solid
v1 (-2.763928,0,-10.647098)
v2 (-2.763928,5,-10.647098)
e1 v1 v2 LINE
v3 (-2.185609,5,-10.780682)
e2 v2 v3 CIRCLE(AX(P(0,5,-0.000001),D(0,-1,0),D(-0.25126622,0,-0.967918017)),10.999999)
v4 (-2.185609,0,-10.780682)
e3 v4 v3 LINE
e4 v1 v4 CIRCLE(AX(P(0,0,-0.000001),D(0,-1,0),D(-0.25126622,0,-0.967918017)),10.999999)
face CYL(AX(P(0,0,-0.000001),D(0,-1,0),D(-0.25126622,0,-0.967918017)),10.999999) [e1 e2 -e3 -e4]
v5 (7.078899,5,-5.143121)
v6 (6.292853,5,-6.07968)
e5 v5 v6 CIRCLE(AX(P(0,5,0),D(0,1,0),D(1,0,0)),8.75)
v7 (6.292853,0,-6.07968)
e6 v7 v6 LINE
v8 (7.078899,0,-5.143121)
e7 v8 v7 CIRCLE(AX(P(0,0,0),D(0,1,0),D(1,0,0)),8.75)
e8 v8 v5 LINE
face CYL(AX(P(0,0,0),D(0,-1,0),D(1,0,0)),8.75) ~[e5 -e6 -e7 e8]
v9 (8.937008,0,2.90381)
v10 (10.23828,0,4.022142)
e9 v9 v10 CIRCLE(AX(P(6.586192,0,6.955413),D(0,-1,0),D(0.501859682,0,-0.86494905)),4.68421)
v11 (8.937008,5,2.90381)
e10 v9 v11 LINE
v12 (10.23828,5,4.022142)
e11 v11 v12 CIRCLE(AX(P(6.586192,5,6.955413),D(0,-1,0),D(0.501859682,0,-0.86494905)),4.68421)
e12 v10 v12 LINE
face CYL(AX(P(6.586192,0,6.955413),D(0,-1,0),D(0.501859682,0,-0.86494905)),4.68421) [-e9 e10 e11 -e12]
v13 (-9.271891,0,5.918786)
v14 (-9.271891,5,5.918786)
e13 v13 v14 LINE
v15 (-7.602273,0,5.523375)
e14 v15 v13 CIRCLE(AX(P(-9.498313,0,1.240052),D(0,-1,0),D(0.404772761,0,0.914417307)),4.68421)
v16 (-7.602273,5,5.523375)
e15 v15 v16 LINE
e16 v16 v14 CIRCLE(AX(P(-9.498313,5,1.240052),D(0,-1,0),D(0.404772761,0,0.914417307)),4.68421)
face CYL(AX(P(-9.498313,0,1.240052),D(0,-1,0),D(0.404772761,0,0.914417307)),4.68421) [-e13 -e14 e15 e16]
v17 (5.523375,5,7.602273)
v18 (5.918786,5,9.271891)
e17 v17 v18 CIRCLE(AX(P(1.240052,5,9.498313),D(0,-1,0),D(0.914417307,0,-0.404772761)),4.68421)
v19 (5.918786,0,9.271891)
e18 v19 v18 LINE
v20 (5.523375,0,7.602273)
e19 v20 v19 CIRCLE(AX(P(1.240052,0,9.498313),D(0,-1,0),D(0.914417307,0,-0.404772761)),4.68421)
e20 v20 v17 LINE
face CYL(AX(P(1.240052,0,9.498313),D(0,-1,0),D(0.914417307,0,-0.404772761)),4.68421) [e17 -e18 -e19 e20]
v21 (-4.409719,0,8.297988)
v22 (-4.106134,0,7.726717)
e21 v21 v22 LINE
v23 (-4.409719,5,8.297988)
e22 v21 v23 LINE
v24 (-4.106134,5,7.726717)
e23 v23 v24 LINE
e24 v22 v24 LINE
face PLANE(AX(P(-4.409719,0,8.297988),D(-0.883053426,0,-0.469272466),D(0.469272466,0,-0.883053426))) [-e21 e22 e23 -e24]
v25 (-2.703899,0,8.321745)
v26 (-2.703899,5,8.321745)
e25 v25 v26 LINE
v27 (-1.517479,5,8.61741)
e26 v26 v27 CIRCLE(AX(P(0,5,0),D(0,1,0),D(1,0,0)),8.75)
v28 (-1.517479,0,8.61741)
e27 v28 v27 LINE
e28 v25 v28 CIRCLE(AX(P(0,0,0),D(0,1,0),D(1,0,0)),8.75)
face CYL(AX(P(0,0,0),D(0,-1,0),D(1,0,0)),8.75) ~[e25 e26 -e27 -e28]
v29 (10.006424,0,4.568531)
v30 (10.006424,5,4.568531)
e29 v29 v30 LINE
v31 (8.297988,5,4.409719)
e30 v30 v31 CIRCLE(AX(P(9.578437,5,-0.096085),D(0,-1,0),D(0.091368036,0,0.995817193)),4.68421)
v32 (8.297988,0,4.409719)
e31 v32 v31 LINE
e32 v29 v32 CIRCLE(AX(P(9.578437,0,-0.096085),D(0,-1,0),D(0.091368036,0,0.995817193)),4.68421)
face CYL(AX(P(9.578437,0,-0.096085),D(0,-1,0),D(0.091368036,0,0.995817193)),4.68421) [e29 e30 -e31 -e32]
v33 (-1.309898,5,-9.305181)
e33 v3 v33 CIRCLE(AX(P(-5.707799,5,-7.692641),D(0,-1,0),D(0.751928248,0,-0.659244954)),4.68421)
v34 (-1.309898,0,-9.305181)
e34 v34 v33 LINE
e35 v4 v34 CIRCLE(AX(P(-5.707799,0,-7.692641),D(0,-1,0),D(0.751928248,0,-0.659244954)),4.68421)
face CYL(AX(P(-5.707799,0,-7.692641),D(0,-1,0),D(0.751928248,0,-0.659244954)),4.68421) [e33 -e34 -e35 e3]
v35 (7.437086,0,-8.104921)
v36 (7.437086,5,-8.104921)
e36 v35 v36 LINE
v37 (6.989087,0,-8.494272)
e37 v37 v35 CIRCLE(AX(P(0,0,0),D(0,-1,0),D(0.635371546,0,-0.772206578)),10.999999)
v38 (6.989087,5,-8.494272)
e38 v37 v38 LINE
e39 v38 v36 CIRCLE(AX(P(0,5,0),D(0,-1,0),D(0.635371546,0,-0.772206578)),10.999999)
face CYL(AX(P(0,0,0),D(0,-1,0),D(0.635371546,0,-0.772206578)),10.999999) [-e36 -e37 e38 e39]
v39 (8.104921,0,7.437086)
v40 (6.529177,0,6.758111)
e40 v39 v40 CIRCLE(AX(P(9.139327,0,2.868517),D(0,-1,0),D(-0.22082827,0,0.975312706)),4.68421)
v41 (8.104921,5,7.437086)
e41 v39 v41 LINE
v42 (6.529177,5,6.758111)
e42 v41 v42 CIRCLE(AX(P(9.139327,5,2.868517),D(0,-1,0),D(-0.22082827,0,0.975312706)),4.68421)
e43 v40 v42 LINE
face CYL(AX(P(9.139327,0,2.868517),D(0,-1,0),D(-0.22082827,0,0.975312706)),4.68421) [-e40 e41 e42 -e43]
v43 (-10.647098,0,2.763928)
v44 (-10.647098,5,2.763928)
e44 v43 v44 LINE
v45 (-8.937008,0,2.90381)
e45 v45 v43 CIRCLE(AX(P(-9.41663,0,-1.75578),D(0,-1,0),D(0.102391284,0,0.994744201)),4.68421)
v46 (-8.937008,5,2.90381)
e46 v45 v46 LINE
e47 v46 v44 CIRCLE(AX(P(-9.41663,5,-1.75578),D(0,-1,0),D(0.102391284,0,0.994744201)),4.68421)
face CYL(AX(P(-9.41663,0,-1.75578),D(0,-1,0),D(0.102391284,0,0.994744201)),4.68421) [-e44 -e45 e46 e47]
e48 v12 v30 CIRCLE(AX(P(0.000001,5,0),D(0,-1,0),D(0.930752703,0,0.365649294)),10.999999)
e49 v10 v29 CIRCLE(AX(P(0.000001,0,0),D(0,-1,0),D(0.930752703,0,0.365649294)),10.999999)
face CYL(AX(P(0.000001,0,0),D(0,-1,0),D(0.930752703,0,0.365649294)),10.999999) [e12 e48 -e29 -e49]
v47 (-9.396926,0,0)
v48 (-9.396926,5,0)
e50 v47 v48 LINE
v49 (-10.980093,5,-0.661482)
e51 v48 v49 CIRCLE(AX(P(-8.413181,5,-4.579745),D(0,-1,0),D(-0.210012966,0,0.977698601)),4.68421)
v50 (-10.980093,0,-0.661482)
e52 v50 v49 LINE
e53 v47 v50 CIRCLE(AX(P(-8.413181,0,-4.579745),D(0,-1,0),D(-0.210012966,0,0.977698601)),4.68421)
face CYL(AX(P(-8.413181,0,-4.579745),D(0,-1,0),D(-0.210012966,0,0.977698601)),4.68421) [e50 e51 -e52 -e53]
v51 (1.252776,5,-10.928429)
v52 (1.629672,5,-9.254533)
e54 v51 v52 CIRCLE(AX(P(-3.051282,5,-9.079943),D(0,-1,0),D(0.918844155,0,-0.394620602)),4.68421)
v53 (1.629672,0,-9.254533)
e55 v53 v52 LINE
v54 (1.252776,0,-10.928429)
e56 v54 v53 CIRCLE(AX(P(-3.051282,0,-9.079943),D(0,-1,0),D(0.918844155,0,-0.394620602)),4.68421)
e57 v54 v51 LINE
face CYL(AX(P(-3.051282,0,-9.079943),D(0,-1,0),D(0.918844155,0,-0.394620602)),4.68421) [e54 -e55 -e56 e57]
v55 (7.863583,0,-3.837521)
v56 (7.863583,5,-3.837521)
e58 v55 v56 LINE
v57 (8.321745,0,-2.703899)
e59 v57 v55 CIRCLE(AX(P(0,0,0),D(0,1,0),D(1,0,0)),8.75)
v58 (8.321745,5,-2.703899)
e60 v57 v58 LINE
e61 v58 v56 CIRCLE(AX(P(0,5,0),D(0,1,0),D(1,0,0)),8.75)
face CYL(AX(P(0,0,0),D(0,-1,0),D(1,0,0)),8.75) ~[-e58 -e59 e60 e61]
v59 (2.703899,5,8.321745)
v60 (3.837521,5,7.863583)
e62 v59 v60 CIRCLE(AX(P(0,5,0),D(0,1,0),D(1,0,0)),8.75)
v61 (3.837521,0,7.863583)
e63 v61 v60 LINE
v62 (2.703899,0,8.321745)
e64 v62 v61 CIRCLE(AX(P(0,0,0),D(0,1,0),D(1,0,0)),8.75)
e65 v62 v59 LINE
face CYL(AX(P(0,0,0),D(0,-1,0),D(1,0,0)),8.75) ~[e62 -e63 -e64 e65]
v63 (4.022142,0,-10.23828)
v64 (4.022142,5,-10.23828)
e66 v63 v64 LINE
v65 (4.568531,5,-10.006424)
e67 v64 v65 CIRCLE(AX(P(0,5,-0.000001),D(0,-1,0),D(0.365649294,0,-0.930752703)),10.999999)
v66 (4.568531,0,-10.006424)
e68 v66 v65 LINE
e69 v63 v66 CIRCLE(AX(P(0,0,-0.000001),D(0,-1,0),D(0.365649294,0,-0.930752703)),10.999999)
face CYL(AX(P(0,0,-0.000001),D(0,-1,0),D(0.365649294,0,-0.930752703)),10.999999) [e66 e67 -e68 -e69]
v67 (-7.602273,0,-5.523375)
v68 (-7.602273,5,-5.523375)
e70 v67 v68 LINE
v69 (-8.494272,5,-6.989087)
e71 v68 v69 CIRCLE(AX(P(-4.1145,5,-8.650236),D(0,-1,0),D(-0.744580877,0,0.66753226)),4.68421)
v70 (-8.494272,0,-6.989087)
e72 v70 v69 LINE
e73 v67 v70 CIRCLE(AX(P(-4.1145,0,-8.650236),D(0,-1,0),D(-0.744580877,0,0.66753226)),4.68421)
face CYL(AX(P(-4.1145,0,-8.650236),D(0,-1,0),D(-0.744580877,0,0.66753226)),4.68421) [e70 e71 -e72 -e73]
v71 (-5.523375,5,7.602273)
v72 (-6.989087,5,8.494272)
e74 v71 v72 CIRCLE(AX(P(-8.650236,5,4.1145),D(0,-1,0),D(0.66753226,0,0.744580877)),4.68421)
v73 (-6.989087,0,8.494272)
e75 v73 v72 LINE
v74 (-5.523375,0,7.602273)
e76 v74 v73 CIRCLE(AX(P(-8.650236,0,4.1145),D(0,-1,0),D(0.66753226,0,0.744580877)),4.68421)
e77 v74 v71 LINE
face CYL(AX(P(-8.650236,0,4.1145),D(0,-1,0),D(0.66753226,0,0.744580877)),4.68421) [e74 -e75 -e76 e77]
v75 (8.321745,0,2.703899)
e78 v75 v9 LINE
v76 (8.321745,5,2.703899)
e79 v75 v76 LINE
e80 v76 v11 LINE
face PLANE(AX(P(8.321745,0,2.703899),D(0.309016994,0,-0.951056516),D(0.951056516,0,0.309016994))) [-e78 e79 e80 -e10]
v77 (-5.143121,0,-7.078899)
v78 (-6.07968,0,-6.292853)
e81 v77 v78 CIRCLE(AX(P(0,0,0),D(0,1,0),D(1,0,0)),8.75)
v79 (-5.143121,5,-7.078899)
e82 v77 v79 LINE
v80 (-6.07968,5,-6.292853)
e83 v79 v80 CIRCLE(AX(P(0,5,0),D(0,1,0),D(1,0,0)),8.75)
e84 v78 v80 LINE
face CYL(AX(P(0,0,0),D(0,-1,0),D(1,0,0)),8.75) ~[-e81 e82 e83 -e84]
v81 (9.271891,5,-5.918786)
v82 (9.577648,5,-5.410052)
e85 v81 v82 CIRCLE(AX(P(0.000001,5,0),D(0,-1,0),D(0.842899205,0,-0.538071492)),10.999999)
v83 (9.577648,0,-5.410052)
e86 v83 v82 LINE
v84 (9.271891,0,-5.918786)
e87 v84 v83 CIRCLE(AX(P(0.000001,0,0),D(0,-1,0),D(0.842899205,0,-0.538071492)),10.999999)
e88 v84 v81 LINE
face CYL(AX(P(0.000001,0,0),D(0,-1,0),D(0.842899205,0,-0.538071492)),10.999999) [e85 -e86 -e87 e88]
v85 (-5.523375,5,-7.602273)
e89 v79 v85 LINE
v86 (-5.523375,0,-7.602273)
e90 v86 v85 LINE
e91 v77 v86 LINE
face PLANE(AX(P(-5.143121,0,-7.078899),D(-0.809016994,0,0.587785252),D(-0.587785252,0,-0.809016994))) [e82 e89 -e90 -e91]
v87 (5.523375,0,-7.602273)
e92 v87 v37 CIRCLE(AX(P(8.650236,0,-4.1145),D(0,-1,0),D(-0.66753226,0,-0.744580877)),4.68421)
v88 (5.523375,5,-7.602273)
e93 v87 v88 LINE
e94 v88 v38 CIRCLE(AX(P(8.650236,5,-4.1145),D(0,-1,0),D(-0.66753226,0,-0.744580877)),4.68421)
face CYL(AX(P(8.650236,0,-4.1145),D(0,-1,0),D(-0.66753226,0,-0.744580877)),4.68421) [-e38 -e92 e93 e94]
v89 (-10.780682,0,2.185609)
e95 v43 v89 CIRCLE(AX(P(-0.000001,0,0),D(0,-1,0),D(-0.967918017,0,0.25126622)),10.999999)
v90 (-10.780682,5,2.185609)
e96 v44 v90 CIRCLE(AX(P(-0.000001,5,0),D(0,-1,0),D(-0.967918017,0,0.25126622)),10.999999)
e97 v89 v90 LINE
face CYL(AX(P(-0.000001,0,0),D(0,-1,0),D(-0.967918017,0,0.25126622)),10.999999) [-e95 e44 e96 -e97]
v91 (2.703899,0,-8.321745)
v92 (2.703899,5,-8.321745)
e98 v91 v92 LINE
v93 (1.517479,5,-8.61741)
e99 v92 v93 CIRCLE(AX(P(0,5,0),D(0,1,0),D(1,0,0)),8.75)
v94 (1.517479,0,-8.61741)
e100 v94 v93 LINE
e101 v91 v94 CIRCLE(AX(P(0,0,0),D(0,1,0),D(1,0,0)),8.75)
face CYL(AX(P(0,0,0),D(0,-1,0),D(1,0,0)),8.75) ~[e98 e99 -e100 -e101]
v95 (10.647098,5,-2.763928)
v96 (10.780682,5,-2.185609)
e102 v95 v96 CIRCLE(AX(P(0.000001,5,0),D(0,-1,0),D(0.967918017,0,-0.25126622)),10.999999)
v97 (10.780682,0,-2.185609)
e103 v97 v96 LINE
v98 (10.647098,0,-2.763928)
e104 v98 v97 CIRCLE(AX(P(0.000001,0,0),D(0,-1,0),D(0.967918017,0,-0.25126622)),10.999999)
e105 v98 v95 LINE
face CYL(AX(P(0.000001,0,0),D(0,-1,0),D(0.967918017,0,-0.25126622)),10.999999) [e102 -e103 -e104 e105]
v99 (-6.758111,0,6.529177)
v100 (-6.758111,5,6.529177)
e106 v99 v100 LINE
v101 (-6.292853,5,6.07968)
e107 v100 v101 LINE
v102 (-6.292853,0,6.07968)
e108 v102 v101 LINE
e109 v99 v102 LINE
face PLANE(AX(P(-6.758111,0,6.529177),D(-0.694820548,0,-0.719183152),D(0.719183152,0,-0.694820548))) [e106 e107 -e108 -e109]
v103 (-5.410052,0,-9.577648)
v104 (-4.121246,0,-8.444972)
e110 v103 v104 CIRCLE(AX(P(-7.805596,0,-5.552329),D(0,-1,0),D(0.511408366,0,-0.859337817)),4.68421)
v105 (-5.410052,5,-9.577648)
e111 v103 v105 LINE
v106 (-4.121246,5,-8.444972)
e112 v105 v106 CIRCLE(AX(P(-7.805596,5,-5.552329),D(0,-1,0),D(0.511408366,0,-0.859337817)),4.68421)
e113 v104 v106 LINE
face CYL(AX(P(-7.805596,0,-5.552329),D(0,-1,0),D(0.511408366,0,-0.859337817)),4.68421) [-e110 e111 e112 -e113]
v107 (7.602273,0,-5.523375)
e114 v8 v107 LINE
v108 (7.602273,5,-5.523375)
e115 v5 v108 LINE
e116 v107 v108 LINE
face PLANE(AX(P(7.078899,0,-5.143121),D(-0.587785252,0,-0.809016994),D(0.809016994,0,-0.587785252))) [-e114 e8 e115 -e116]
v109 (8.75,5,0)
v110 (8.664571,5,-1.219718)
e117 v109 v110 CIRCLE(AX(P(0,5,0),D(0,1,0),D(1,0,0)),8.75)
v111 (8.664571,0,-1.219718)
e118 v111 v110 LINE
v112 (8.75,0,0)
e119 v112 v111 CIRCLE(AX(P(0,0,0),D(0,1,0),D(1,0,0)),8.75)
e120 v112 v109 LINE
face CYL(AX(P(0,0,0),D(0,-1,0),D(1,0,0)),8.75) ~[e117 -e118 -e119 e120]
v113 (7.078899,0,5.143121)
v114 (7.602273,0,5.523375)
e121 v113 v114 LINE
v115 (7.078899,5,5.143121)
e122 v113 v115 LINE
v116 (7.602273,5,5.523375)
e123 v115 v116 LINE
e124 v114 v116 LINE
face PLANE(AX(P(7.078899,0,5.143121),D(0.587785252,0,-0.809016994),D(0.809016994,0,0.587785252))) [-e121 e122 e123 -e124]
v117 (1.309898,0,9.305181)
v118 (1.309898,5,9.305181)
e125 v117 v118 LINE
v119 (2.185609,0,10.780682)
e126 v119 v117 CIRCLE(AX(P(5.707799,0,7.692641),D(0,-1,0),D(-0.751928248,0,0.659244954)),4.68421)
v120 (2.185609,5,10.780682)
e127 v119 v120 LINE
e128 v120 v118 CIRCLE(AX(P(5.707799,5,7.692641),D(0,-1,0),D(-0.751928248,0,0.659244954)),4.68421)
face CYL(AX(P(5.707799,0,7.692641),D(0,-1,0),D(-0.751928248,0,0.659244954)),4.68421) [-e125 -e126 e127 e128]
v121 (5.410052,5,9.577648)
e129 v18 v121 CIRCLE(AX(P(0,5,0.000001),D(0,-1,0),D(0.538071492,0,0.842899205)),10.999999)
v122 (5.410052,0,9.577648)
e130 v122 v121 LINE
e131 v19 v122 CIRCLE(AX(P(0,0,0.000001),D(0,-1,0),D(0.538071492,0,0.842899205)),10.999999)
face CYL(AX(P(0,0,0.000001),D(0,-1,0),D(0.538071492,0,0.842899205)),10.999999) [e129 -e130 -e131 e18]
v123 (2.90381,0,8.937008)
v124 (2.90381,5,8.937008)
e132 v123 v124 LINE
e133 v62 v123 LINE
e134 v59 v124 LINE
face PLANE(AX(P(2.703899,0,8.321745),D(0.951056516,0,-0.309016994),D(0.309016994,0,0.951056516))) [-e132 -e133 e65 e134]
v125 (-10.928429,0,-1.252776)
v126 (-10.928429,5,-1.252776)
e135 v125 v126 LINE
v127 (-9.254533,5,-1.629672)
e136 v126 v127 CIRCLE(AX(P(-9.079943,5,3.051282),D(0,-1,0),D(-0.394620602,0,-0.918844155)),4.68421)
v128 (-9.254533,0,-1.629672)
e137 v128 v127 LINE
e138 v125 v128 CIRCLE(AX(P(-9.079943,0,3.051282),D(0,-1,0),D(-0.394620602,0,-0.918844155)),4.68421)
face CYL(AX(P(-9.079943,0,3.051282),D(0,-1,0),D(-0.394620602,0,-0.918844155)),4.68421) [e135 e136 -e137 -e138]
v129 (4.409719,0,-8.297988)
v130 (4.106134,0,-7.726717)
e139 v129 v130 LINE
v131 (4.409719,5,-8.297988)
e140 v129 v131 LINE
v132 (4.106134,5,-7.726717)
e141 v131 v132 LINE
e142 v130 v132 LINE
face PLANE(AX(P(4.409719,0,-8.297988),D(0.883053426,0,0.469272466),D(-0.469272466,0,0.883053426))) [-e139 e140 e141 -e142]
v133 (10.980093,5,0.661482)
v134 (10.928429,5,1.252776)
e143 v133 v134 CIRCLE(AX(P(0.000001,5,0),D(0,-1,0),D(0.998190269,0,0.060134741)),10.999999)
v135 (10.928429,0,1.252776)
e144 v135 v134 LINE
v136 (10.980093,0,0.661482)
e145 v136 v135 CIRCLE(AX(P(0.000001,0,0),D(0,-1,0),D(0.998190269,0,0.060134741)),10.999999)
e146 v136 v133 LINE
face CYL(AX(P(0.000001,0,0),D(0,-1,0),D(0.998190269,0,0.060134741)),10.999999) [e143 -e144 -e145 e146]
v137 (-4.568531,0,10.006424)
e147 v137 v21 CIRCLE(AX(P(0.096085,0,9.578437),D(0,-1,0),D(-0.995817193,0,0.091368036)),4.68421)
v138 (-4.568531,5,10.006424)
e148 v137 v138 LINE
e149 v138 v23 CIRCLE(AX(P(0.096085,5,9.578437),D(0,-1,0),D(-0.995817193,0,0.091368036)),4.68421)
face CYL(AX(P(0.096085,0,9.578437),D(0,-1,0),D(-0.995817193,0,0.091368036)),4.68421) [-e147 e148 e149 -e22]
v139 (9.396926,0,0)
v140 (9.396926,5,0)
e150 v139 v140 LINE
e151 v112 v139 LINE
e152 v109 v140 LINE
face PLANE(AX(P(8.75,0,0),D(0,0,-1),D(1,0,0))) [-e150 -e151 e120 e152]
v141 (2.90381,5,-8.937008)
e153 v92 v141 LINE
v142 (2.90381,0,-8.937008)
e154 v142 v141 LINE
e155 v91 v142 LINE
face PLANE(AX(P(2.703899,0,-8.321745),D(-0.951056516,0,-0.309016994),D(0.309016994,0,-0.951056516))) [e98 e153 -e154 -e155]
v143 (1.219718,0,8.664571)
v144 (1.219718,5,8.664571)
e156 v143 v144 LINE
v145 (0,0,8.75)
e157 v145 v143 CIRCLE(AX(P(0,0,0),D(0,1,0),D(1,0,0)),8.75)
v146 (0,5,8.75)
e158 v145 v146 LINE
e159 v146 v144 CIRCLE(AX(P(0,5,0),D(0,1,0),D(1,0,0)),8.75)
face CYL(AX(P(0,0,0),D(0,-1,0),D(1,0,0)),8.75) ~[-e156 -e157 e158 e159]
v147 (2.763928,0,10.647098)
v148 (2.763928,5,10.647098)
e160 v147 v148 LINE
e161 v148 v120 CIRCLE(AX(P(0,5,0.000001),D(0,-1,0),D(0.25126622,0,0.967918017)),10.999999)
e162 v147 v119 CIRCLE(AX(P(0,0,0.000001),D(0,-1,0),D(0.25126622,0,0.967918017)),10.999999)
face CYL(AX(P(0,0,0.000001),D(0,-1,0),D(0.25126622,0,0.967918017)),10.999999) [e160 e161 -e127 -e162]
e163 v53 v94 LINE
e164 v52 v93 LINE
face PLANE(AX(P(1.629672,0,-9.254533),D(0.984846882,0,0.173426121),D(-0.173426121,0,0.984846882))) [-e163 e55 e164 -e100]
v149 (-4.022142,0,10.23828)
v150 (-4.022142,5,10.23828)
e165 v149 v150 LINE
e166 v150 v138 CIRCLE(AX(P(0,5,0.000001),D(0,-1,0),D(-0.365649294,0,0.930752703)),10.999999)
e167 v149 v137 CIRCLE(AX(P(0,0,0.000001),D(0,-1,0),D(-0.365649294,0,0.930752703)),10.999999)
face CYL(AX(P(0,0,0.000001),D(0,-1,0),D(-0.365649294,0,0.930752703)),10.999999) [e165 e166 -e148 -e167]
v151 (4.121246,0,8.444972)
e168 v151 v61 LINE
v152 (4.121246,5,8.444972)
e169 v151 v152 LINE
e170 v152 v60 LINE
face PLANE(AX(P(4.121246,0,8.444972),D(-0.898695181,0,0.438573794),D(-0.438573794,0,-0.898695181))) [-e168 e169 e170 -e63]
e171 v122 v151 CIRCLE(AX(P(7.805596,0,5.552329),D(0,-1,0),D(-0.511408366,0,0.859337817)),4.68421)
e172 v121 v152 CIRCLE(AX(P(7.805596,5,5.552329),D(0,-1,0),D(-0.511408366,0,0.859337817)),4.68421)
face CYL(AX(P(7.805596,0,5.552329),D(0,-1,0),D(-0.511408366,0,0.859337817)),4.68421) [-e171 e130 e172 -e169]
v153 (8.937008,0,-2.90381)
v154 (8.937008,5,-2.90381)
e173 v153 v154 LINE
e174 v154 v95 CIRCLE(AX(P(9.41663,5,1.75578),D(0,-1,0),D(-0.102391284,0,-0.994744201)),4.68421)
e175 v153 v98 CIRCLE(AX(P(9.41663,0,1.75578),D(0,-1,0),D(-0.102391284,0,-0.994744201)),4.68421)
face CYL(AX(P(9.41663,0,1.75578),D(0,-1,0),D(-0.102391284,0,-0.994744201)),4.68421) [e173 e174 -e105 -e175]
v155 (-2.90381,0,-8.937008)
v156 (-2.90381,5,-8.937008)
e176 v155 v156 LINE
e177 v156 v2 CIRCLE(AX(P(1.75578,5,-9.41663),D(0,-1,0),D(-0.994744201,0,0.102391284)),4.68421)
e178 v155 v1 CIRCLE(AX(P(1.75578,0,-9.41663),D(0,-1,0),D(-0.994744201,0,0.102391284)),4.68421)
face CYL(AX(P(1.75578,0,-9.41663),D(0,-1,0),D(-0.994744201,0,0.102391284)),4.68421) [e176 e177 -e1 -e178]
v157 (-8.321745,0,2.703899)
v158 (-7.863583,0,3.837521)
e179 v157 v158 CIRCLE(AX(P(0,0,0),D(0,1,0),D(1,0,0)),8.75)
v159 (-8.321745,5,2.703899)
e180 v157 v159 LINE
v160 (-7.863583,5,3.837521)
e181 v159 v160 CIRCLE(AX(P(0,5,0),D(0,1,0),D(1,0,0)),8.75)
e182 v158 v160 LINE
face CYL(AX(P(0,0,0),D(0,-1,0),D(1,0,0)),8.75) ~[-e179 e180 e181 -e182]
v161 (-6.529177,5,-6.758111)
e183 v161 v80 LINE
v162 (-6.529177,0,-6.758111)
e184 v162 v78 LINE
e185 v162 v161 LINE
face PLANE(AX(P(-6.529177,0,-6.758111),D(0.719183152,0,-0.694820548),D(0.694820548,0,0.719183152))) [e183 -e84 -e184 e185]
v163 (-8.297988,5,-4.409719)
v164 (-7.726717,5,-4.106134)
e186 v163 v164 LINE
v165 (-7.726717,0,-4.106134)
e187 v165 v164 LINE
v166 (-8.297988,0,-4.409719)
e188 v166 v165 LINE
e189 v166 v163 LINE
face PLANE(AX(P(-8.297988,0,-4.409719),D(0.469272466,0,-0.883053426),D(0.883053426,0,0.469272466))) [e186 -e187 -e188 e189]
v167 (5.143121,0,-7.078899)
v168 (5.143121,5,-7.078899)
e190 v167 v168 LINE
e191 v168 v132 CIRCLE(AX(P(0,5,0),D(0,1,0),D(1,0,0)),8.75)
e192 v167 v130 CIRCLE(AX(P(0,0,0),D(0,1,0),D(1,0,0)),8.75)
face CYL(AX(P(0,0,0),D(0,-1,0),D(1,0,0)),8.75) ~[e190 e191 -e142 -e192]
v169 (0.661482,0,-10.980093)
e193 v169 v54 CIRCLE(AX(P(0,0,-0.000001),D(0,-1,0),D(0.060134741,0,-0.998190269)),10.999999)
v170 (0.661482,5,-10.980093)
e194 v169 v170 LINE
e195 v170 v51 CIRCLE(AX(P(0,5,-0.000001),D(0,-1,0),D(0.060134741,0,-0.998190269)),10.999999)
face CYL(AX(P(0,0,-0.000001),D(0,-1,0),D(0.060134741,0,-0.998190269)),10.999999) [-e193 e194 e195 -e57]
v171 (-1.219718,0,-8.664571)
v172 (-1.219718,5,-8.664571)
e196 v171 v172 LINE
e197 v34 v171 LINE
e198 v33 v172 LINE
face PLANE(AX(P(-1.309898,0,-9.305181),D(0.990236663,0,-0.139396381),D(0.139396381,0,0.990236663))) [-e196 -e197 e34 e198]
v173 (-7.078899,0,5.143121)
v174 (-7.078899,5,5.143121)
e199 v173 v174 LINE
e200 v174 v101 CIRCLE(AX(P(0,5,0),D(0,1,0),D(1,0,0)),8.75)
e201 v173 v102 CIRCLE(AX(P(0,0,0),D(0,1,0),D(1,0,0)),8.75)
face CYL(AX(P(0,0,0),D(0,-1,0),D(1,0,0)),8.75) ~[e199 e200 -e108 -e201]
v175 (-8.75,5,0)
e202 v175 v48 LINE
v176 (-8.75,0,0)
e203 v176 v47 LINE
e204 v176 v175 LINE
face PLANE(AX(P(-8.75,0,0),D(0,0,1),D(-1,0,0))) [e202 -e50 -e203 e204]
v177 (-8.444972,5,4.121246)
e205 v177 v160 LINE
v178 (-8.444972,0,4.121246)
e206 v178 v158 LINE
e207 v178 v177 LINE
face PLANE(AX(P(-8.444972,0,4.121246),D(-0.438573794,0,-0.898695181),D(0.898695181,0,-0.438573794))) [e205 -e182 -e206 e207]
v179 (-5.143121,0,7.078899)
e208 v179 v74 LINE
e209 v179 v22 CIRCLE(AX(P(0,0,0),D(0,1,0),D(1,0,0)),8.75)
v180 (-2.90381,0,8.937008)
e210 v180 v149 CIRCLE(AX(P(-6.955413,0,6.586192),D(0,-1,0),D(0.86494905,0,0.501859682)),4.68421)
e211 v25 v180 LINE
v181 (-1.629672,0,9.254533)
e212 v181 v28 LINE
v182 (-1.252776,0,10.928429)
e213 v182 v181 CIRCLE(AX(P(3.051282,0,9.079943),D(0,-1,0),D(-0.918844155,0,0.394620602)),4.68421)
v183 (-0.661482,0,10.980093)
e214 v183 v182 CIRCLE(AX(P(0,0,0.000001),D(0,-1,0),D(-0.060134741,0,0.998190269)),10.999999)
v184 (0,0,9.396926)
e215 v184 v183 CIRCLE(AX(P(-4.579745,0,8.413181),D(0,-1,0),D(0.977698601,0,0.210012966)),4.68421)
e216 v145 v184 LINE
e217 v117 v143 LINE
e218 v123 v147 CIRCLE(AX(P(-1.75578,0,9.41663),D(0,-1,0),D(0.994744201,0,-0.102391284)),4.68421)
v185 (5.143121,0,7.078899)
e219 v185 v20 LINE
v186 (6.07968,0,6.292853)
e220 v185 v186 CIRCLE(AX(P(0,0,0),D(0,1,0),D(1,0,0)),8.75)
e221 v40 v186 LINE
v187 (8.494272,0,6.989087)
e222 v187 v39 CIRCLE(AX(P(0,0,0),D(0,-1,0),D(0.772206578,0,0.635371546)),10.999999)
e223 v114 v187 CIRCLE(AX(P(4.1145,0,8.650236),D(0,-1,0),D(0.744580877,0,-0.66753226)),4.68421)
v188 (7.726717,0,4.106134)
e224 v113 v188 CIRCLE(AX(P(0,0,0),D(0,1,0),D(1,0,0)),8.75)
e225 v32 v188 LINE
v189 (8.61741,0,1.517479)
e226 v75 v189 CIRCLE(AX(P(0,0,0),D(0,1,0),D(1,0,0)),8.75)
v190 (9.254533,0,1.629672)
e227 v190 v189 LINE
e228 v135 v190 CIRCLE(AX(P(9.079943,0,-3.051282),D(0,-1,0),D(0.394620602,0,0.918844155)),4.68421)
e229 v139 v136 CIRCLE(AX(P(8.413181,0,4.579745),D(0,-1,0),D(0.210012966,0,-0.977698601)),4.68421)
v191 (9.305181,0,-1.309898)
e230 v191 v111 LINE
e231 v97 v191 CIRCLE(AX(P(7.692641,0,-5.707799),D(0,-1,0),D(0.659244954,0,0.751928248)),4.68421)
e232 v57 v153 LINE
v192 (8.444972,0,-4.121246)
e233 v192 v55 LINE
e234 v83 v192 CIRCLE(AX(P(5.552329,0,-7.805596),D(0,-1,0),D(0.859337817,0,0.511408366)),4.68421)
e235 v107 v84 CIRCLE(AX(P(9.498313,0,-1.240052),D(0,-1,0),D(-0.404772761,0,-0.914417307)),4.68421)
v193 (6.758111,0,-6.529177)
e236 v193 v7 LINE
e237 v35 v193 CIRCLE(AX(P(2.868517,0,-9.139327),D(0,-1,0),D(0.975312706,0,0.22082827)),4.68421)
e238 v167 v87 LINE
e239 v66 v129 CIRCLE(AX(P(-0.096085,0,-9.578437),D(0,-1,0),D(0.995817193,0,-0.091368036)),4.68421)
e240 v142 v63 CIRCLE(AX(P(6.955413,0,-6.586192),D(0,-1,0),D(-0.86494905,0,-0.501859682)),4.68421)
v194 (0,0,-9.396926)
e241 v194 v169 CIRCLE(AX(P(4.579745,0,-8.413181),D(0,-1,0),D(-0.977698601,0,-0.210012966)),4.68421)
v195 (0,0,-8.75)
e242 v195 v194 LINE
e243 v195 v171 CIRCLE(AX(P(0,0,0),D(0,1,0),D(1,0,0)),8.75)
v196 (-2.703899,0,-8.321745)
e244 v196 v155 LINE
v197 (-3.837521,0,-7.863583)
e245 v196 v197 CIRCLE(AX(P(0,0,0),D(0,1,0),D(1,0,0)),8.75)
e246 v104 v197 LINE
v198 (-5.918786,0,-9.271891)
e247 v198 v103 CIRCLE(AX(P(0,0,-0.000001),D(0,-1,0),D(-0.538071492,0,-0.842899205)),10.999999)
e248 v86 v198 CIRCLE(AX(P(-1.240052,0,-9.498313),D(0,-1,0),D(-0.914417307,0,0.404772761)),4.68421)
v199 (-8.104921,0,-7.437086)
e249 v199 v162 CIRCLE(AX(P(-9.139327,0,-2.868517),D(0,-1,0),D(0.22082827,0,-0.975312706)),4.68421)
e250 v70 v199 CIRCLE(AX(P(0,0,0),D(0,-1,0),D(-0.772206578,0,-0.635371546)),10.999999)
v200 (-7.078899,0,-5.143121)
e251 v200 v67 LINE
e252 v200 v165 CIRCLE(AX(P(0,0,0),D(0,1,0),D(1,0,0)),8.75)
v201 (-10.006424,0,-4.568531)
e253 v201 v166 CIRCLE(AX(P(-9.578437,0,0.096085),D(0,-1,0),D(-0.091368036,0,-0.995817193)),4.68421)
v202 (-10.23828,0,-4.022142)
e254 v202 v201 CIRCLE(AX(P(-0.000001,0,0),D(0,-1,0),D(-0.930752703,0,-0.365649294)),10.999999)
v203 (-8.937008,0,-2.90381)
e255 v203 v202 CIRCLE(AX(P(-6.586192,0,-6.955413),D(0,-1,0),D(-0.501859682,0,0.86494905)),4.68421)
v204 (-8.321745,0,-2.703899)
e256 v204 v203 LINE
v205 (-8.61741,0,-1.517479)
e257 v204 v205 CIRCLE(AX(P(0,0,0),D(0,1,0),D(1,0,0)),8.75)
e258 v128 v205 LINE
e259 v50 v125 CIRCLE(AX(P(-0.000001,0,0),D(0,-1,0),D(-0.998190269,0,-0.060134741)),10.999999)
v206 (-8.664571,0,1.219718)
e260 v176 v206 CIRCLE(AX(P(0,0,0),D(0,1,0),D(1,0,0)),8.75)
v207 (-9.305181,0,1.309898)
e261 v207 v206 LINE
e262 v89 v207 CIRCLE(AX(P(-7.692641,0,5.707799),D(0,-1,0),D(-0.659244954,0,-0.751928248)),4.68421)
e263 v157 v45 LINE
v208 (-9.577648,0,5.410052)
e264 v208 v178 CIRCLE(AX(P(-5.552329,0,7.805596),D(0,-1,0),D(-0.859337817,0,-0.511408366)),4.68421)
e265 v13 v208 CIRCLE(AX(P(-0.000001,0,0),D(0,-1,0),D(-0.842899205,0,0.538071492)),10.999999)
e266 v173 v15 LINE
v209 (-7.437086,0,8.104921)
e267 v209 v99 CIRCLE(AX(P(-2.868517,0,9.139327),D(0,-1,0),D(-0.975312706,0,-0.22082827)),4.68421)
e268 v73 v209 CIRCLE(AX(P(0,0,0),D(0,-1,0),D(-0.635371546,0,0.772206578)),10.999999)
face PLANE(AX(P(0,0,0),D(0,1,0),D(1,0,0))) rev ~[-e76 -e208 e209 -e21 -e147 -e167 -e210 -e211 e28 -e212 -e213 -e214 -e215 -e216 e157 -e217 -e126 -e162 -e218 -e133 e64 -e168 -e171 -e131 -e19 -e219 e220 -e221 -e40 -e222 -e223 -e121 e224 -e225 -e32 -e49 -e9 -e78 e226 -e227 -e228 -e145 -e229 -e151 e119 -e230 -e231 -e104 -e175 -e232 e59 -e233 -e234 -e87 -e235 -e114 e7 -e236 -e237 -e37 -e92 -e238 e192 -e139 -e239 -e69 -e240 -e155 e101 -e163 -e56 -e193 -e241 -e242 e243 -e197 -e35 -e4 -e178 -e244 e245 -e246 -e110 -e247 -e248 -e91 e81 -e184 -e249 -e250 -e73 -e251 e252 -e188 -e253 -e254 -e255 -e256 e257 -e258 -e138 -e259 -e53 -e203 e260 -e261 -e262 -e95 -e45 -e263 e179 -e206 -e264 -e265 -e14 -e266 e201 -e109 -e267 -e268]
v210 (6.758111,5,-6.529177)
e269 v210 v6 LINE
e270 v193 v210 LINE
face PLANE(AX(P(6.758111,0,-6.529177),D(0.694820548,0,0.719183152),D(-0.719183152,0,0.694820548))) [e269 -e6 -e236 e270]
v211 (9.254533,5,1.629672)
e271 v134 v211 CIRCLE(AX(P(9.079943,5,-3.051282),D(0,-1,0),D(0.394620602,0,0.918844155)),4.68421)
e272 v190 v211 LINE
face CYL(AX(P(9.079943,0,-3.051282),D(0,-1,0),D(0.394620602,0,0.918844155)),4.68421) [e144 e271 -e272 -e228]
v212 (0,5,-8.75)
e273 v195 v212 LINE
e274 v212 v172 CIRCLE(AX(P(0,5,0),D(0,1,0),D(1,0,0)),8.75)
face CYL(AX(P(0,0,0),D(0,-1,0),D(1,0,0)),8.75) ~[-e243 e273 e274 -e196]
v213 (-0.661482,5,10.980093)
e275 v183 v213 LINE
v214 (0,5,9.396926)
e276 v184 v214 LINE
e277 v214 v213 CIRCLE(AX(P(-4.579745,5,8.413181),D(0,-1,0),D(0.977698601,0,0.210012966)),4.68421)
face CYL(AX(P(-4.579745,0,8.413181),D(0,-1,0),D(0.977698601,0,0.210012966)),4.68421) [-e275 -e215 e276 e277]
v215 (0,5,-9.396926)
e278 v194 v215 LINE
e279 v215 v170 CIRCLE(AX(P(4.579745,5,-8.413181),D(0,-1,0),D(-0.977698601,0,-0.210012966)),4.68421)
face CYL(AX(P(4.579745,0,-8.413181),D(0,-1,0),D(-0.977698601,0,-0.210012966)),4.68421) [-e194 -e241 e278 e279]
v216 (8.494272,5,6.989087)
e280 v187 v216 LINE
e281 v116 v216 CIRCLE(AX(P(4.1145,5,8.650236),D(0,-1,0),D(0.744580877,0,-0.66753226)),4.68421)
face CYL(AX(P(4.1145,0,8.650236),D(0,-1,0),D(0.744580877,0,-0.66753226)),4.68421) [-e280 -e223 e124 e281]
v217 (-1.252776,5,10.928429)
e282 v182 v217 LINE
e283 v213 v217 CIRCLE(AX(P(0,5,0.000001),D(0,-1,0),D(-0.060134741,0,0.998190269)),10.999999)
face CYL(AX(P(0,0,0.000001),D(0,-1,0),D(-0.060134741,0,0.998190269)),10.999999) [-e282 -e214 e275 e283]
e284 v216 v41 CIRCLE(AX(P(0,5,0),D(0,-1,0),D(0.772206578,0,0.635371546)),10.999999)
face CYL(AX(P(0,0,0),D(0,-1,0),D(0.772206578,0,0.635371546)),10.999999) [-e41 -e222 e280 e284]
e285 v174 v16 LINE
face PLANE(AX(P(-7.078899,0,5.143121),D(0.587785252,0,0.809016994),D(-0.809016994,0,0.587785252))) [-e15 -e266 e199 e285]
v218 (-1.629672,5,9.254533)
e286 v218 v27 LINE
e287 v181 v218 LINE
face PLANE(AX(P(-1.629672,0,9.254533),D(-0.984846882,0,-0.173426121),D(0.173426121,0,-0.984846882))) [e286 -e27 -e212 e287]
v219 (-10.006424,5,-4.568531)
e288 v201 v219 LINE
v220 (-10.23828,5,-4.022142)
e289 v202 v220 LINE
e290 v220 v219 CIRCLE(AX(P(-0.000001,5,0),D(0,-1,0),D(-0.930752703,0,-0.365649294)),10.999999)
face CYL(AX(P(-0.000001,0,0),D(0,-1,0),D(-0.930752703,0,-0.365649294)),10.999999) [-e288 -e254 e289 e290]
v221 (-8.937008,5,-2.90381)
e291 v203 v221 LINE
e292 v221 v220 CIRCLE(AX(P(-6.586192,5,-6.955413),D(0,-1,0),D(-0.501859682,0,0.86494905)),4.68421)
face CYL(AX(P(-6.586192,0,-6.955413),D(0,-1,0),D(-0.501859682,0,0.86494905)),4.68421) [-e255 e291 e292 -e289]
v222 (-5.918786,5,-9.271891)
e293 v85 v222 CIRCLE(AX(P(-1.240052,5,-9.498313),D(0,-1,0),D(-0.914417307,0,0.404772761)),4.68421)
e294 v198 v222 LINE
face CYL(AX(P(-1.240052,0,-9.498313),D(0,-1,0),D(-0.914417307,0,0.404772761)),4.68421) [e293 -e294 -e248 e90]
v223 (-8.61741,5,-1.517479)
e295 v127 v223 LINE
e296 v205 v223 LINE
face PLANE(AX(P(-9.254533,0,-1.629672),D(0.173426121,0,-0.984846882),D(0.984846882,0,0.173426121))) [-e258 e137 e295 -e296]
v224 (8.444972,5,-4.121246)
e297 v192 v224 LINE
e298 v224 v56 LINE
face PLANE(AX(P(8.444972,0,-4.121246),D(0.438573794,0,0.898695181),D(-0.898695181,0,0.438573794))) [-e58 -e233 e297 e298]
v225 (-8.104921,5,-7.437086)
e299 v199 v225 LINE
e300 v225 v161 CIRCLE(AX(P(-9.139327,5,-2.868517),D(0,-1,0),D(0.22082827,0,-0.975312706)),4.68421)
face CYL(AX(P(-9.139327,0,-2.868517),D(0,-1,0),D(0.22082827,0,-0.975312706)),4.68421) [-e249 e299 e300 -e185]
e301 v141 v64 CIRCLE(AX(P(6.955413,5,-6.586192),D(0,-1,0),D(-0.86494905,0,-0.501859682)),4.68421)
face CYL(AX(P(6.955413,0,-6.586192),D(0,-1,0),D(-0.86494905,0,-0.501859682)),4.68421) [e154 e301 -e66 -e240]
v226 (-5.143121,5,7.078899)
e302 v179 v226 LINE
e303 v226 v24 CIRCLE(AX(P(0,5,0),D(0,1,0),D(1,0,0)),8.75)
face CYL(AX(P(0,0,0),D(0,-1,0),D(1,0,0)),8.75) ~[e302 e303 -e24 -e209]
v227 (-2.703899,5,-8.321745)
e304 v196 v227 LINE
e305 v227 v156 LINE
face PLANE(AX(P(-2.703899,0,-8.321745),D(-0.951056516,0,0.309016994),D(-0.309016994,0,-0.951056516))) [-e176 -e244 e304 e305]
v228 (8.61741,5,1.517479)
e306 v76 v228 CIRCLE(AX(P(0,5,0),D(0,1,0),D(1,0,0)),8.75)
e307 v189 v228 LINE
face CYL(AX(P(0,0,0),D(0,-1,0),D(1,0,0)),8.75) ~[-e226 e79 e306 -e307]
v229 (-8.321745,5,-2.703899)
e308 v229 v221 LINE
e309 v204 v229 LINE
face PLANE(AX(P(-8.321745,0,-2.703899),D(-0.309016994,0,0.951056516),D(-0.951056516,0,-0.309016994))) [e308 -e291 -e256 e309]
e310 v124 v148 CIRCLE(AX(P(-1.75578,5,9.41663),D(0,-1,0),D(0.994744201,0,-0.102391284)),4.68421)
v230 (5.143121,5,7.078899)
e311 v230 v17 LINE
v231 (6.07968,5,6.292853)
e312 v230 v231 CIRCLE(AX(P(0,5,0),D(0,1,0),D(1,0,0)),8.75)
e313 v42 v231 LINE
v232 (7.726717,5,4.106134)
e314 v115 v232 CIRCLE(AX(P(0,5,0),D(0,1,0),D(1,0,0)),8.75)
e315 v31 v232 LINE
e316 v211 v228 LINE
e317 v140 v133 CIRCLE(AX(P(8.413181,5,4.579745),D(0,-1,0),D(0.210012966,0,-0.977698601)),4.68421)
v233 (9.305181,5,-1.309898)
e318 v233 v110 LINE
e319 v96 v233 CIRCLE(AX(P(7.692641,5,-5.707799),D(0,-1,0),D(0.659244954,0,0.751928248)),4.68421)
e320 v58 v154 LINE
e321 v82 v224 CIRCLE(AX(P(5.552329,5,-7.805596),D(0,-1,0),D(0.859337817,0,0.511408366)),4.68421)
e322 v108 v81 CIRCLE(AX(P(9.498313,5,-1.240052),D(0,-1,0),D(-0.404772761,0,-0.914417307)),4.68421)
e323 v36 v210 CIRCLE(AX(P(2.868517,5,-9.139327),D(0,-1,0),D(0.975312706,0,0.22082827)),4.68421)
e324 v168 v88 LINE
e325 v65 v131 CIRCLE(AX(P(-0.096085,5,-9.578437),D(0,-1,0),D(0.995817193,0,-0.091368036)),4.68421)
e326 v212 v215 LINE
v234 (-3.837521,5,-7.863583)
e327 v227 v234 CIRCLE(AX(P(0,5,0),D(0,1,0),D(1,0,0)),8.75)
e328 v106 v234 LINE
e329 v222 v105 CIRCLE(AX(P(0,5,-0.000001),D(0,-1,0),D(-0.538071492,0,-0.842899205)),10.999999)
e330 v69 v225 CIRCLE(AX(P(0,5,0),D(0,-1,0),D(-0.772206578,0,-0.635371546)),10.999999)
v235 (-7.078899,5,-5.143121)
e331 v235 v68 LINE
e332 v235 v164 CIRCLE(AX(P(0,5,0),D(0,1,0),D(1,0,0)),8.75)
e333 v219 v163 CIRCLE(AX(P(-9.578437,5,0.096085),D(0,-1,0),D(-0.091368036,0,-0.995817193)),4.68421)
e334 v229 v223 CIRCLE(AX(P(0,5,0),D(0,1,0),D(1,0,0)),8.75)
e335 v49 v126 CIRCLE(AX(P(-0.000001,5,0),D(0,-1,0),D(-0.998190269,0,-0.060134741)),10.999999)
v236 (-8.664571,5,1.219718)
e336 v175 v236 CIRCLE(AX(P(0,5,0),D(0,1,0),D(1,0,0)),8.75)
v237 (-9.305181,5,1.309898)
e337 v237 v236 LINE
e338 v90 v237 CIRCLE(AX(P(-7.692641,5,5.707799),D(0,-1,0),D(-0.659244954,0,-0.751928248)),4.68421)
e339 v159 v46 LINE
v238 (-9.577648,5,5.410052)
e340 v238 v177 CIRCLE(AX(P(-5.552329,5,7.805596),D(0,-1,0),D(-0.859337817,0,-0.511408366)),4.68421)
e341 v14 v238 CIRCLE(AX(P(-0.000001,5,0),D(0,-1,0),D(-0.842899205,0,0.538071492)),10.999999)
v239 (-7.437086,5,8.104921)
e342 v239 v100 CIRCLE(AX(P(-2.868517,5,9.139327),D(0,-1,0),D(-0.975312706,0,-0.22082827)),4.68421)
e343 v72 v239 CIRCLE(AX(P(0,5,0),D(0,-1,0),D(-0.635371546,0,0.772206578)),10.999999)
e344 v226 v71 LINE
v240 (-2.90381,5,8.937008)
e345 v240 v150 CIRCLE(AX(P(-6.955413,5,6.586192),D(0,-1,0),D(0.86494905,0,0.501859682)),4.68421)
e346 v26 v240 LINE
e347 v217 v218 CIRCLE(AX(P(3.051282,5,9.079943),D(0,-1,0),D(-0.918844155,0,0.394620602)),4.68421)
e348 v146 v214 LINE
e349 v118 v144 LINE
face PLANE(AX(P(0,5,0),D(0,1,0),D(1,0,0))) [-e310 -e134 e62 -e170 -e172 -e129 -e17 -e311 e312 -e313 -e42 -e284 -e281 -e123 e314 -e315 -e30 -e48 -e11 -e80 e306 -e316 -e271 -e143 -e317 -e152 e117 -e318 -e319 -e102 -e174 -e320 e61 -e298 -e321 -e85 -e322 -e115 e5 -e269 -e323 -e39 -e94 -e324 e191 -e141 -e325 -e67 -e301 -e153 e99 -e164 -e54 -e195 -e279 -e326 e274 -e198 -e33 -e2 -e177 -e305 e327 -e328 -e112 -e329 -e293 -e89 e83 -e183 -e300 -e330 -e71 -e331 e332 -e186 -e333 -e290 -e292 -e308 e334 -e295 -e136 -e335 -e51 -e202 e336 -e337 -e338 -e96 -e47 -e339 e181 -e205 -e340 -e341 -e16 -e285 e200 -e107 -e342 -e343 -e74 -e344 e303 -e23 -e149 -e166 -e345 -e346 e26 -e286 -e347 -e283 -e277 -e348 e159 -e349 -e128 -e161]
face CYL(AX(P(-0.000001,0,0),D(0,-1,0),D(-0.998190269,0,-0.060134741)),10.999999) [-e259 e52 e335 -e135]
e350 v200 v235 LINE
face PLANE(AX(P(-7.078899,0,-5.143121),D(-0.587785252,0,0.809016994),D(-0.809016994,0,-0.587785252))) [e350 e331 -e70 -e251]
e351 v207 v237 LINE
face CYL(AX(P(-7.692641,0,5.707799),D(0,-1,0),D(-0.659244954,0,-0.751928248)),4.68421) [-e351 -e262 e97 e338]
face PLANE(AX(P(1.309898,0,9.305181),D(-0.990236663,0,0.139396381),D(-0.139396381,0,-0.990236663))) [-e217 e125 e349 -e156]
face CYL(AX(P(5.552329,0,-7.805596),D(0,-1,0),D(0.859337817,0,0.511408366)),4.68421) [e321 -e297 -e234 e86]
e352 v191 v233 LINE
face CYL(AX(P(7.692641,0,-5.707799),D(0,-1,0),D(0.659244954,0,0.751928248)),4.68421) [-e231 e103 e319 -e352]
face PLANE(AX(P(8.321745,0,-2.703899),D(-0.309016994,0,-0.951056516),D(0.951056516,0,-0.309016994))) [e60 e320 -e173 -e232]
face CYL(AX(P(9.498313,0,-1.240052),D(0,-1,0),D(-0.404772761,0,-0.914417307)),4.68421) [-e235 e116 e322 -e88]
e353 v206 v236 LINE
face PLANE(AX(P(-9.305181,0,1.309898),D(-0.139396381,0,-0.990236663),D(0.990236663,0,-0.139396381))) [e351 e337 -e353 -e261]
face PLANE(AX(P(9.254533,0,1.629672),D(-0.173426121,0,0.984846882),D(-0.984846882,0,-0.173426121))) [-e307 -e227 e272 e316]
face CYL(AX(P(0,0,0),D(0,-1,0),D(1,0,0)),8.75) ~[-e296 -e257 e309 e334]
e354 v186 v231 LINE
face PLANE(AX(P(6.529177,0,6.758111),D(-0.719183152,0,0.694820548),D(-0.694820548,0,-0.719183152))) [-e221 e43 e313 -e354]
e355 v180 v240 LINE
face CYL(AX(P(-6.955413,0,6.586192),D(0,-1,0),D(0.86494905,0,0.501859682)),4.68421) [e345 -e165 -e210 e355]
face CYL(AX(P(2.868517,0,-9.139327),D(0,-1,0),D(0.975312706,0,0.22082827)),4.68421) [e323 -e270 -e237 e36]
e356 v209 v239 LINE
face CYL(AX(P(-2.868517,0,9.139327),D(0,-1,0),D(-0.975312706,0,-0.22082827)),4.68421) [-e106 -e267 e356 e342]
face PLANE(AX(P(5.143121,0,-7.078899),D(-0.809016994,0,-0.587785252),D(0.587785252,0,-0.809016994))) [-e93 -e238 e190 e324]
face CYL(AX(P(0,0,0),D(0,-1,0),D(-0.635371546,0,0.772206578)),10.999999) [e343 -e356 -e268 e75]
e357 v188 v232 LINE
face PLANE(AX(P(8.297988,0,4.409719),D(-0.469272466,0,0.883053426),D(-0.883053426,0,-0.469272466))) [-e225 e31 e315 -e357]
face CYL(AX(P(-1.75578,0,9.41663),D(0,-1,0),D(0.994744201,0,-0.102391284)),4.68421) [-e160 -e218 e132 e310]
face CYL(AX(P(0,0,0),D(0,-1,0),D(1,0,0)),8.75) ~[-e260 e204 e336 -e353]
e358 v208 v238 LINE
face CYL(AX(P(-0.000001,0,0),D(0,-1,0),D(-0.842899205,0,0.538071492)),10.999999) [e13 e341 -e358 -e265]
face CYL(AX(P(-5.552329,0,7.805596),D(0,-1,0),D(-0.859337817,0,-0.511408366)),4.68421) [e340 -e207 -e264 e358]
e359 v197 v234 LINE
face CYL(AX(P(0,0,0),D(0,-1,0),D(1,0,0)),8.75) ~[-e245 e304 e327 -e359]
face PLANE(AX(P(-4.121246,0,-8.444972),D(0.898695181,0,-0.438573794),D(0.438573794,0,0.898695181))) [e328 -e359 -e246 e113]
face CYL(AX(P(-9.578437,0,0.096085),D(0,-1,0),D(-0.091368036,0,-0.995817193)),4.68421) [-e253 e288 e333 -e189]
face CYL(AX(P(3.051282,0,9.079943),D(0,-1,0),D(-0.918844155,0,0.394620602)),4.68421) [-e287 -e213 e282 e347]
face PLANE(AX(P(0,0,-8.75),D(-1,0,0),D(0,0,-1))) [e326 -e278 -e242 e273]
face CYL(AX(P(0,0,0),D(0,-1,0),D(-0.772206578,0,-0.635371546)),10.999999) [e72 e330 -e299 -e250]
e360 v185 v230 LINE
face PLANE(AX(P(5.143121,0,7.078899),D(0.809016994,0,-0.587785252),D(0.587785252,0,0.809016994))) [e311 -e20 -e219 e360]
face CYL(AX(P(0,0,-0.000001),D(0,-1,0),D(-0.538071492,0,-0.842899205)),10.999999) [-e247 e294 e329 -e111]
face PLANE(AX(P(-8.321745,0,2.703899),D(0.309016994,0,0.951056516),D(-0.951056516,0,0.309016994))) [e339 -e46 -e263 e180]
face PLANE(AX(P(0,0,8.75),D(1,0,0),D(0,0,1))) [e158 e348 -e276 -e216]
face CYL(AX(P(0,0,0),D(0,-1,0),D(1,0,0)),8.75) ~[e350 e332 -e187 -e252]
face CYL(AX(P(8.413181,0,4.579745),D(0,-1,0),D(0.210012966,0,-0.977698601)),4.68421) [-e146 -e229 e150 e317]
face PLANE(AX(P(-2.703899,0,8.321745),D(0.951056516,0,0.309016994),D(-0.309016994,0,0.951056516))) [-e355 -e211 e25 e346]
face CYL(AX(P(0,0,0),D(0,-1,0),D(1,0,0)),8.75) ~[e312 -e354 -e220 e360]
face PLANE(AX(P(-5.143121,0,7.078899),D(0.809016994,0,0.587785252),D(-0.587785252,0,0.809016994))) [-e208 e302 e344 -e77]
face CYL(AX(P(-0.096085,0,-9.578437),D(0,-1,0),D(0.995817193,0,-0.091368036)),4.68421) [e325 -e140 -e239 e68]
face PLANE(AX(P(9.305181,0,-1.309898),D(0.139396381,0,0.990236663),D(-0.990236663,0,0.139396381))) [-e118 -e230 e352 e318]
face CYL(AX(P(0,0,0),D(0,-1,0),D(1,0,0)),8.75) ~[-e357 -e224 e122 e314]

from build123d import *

# Parameters (mm, degrees)
BOSS_EXTRUDE1_DEPTH = 5
CIRPATTERN4_COUNT   = 20
SKETCH6_R           = 8.75
BOSS_EXTRUDE2_DEPTH = 5


with BuildPart() as part:
    # Sketch3 → Boss-Extrude1 (new body)
    with BuildSketch(Plane(origin=(0, 0, 0), x_dir=(1, 0, 0), z_dir=(0, 1, 0))):
        with BuildLine():
            Line((1.629672464, 9.254533474), (1.517478561, 8.617410215))
            ThreePointArc((1.517478561, 8.617410215), (0.761630034, 8.716789529), (0, 8.75))
            Line((0, 8.75), (0, 9.396926208))
            ThreePointArc((0, 9.396926208), (0.25763458, 10.219055101), (0.661482168, 10.980092957))
            ThreePointArc((0.661482168, 10.980092957), (0.957477757, 10.958249694), (1.252776281, 10.928428597))
            ThreePointArc((1.252776281, 10.928428597), (1.518520476, 10.108885116), (1.629672464, 9.254533474))
        make_face()
    extrude(amount=BOSS_EXTRUDE1_DEPTH)


with BuildPart() as cirpattern4_1:
    # CirPattern4: pattern copy
    add(part.part.rotate(Axis((0, 0, 0), (0, 1, 0)), 1 * 360 / CIRPATTERN4_COUNT))


with BuildPart() as cirpattern4_2:
    # CirPattern4: pattern copy
    add(part.part.rotate(Axis((0, 0, 0), (0, 1, 0)), 2 * 360 / CIRPATTERN4_COUNT))


with BuildPart() as cirpattern4_3:
    # CirPattern4: pattern copy
    add(part.part.rotate(Axis((0, 0, 0), (0, 1, 0)), 3 * 360 / CIRPATTERN4_COUNT))


with BuildPart() as cirpattern4_4:
    # CirPattern4: pattern copy
    add(part.part.rotate(Axis((0, 0, 0), (0, 1, 0)), 4 * 360 / CIRPATTERN4_COUNT))


with BuildPart() as cirpattern4_5:
    # CirPattern4: pattern copy
    add(part.part.rotate(Axis((0, 0, 0), (0, 1, 0)), 5 * 360 / CIRPATTERN4_COUNT))


with BuildPart() as cirpattern4_6:
    # CirPattern4: pattern copy
    add(part.part.rotate(Axis((0, 0, 0), (0, 1, 0)), 6 * 360 / CIRPATTERN4_COUNT))


with BuildPart() as cirpattern4_7:
    # CirPattern4: pattern copy
    add(part.part.rotate(Axis((0, 0, 0), (0, 1, 0)), 7 * 360 / CIRPATTERN4_COUNT))


with BuildPart() as cirpattern4_8:
    # CirPattern4: pattern copy
    add(part.part.rotate(Axis((0, 0, 0), (0, 1, 0)), 8 * 360 / CIRPATTERN4_COUNT))


with BuildPart() as cirpattern4_9:
    # CirPattern4: pattern copy
    add(part.part.rotate(Axis((0, 0, 0), (0, 1, 0)), 9 * 360 / CIRPATTERN4_COUNT))


with BuildPart() as cirpattern4_10:
    # CirPattern4: pattern copy
    add(part.part.rotate(Axis((0, 0, 0), (0, 1, 0)), 10 * 360 / CIRPATTERN4_COUNT))


with BuildPart() as cirpattern4_11:
    # CirPattern4: pattern copy
    add(part.part.rotate(Axis((0, 0, 0), (0, 1, 0)), 11 * 360 / CIRPATTERN4_COUNT))


with BuildPart() as cirpattern4_12:
    # CirPattern4: pattern copy
    add(part.part.rotate(Axis((0, 0, 0), (0, 1, 0)), 12 * 360 / CIRPATTERN4_COUNT))


with BuildPart() as cirpattern4_13:
    # CirPattern4: pattern copy
    add(part.part.rotate(Axis((0, 0, 0), (0, 1, 0)), 13 * 360 / CIRPATTERN4_COUNT))


with BuildPart() as cirpattern4_14:
    # CirPattern4: pattern copy
    add(part.part.rotate(Axis((0, 0, 0), (0, 1, 0)), 14 * 360 / CIRPATTERN4_COUNT))


with BuildPart() as cirpattern4_15:
    # CirPattern4: pattern copy
    add(part.part.rotate(Axis((0, 0, 0), (0, 1, 0)), 15 * 360 / CIRPATTERN4_COUNT))


with BuildPart() as cirpattern4_16:
    # CirPattern4: pattern copy
    add(part.part.rotate(Axis((0, 0, 0), (0, 1, 0)), 16 * 360 / CIRPATTERN4_COUNT))


with BuildPart() as cirpattern4_17:
    # CirPattern4: pattern copy
    add(part.part.rotate(Axis((0, 0, 0), (0, 1, 0)), 17 * 360 / CIRPATTERN4_COUNT))


with BuildPart() as cirpattern4_18:
    # CirPattern4: pattern copy
    add(part.part.rotate(Axis((0, 0, 0), (0, 1, 0)), 18 * 360 / CIRPATTERN4_COUNT))


with BuildPart() as cirpattern4_19:
    # CirPattern4: pattern copy
    add(part.part.rotate(Axis((0, 0, 0), (0, 1, 0)), 19 * 360 / CIRPATTERN4_COUNT))


with BuildPart() as part_1:
    add(part.part)

    add(cirpattern4_1.part)  # Boss-Extrude2 merges CirPattern4_1

    add(cirpattern4_2.part)  # Boss-Extrude2 merges CirPattern4_2

    add(cirpattern4_3.part)  # Boss-Extrude2 merges CirPattern4_3

    add(cirpattern4_4.part)  # Boss-Extrude2 merges CirPattern4_4

    add(cirpattern4_5.part)  # Boss-Extrude2 merges CirPattern4_5

    add(cirpattern4_6.part)  # Boss-Extrude2 merges CirPattern4_6

    add(cirpattern4_7.part)  # Boss-Extrude2 merges CirPattern4_7

    add(cirpattern4_8.part)  # Boss-Extrude2 merges CirPattern4_8

    add(cirpattern4_9.part)  # Boss-Extrude2 merges CirPattern4_9

    add(cirpattern4_10.part)  # Boss-Extrude2 merges CirPattern4_10

    add(cirpattern4_11.part)  # Boss-Extrude2 merges CirPattern4_11

    add(cirpattern4_12.part)  # Boss-Extrude2 merges CirPattern4_12

    add(cirpattern4_13.part)  # Boss-Extrude2 merges CirPattern4_13

    add(cirpattern4_14.part)  # Boss-Extrude2 merges CirPattern4_14

    add(cirpattern4_15.part)  # Boss-Extrude2 merges CirPattern4_15

    add(cirpattern4_16.part)  # Boss-Extrude2 merges CirPattern4_16

    add(cirpattern4_17.part)  # Boss-Extrude2 merges CirPattern4_17

    add(cirpattern4_18.part)  # Boss-Extrude2 merges CirPattern4_18

    add(cirpattern4_19.part)  # Boss-Extrude2 merges CirPattern4_19
    # Sketch6 → Boss-Extrude2 (add)
    with BuildSketch(Plane(origin=(0, 0, 0), x_dir=(1, 0, 0), z_dir=(0, 1, 0))):
        Circle(SKETCH6_R)
    extrude(amount=BOSS_EXTRUDE2_DEPTH)


solid = part_1.part
